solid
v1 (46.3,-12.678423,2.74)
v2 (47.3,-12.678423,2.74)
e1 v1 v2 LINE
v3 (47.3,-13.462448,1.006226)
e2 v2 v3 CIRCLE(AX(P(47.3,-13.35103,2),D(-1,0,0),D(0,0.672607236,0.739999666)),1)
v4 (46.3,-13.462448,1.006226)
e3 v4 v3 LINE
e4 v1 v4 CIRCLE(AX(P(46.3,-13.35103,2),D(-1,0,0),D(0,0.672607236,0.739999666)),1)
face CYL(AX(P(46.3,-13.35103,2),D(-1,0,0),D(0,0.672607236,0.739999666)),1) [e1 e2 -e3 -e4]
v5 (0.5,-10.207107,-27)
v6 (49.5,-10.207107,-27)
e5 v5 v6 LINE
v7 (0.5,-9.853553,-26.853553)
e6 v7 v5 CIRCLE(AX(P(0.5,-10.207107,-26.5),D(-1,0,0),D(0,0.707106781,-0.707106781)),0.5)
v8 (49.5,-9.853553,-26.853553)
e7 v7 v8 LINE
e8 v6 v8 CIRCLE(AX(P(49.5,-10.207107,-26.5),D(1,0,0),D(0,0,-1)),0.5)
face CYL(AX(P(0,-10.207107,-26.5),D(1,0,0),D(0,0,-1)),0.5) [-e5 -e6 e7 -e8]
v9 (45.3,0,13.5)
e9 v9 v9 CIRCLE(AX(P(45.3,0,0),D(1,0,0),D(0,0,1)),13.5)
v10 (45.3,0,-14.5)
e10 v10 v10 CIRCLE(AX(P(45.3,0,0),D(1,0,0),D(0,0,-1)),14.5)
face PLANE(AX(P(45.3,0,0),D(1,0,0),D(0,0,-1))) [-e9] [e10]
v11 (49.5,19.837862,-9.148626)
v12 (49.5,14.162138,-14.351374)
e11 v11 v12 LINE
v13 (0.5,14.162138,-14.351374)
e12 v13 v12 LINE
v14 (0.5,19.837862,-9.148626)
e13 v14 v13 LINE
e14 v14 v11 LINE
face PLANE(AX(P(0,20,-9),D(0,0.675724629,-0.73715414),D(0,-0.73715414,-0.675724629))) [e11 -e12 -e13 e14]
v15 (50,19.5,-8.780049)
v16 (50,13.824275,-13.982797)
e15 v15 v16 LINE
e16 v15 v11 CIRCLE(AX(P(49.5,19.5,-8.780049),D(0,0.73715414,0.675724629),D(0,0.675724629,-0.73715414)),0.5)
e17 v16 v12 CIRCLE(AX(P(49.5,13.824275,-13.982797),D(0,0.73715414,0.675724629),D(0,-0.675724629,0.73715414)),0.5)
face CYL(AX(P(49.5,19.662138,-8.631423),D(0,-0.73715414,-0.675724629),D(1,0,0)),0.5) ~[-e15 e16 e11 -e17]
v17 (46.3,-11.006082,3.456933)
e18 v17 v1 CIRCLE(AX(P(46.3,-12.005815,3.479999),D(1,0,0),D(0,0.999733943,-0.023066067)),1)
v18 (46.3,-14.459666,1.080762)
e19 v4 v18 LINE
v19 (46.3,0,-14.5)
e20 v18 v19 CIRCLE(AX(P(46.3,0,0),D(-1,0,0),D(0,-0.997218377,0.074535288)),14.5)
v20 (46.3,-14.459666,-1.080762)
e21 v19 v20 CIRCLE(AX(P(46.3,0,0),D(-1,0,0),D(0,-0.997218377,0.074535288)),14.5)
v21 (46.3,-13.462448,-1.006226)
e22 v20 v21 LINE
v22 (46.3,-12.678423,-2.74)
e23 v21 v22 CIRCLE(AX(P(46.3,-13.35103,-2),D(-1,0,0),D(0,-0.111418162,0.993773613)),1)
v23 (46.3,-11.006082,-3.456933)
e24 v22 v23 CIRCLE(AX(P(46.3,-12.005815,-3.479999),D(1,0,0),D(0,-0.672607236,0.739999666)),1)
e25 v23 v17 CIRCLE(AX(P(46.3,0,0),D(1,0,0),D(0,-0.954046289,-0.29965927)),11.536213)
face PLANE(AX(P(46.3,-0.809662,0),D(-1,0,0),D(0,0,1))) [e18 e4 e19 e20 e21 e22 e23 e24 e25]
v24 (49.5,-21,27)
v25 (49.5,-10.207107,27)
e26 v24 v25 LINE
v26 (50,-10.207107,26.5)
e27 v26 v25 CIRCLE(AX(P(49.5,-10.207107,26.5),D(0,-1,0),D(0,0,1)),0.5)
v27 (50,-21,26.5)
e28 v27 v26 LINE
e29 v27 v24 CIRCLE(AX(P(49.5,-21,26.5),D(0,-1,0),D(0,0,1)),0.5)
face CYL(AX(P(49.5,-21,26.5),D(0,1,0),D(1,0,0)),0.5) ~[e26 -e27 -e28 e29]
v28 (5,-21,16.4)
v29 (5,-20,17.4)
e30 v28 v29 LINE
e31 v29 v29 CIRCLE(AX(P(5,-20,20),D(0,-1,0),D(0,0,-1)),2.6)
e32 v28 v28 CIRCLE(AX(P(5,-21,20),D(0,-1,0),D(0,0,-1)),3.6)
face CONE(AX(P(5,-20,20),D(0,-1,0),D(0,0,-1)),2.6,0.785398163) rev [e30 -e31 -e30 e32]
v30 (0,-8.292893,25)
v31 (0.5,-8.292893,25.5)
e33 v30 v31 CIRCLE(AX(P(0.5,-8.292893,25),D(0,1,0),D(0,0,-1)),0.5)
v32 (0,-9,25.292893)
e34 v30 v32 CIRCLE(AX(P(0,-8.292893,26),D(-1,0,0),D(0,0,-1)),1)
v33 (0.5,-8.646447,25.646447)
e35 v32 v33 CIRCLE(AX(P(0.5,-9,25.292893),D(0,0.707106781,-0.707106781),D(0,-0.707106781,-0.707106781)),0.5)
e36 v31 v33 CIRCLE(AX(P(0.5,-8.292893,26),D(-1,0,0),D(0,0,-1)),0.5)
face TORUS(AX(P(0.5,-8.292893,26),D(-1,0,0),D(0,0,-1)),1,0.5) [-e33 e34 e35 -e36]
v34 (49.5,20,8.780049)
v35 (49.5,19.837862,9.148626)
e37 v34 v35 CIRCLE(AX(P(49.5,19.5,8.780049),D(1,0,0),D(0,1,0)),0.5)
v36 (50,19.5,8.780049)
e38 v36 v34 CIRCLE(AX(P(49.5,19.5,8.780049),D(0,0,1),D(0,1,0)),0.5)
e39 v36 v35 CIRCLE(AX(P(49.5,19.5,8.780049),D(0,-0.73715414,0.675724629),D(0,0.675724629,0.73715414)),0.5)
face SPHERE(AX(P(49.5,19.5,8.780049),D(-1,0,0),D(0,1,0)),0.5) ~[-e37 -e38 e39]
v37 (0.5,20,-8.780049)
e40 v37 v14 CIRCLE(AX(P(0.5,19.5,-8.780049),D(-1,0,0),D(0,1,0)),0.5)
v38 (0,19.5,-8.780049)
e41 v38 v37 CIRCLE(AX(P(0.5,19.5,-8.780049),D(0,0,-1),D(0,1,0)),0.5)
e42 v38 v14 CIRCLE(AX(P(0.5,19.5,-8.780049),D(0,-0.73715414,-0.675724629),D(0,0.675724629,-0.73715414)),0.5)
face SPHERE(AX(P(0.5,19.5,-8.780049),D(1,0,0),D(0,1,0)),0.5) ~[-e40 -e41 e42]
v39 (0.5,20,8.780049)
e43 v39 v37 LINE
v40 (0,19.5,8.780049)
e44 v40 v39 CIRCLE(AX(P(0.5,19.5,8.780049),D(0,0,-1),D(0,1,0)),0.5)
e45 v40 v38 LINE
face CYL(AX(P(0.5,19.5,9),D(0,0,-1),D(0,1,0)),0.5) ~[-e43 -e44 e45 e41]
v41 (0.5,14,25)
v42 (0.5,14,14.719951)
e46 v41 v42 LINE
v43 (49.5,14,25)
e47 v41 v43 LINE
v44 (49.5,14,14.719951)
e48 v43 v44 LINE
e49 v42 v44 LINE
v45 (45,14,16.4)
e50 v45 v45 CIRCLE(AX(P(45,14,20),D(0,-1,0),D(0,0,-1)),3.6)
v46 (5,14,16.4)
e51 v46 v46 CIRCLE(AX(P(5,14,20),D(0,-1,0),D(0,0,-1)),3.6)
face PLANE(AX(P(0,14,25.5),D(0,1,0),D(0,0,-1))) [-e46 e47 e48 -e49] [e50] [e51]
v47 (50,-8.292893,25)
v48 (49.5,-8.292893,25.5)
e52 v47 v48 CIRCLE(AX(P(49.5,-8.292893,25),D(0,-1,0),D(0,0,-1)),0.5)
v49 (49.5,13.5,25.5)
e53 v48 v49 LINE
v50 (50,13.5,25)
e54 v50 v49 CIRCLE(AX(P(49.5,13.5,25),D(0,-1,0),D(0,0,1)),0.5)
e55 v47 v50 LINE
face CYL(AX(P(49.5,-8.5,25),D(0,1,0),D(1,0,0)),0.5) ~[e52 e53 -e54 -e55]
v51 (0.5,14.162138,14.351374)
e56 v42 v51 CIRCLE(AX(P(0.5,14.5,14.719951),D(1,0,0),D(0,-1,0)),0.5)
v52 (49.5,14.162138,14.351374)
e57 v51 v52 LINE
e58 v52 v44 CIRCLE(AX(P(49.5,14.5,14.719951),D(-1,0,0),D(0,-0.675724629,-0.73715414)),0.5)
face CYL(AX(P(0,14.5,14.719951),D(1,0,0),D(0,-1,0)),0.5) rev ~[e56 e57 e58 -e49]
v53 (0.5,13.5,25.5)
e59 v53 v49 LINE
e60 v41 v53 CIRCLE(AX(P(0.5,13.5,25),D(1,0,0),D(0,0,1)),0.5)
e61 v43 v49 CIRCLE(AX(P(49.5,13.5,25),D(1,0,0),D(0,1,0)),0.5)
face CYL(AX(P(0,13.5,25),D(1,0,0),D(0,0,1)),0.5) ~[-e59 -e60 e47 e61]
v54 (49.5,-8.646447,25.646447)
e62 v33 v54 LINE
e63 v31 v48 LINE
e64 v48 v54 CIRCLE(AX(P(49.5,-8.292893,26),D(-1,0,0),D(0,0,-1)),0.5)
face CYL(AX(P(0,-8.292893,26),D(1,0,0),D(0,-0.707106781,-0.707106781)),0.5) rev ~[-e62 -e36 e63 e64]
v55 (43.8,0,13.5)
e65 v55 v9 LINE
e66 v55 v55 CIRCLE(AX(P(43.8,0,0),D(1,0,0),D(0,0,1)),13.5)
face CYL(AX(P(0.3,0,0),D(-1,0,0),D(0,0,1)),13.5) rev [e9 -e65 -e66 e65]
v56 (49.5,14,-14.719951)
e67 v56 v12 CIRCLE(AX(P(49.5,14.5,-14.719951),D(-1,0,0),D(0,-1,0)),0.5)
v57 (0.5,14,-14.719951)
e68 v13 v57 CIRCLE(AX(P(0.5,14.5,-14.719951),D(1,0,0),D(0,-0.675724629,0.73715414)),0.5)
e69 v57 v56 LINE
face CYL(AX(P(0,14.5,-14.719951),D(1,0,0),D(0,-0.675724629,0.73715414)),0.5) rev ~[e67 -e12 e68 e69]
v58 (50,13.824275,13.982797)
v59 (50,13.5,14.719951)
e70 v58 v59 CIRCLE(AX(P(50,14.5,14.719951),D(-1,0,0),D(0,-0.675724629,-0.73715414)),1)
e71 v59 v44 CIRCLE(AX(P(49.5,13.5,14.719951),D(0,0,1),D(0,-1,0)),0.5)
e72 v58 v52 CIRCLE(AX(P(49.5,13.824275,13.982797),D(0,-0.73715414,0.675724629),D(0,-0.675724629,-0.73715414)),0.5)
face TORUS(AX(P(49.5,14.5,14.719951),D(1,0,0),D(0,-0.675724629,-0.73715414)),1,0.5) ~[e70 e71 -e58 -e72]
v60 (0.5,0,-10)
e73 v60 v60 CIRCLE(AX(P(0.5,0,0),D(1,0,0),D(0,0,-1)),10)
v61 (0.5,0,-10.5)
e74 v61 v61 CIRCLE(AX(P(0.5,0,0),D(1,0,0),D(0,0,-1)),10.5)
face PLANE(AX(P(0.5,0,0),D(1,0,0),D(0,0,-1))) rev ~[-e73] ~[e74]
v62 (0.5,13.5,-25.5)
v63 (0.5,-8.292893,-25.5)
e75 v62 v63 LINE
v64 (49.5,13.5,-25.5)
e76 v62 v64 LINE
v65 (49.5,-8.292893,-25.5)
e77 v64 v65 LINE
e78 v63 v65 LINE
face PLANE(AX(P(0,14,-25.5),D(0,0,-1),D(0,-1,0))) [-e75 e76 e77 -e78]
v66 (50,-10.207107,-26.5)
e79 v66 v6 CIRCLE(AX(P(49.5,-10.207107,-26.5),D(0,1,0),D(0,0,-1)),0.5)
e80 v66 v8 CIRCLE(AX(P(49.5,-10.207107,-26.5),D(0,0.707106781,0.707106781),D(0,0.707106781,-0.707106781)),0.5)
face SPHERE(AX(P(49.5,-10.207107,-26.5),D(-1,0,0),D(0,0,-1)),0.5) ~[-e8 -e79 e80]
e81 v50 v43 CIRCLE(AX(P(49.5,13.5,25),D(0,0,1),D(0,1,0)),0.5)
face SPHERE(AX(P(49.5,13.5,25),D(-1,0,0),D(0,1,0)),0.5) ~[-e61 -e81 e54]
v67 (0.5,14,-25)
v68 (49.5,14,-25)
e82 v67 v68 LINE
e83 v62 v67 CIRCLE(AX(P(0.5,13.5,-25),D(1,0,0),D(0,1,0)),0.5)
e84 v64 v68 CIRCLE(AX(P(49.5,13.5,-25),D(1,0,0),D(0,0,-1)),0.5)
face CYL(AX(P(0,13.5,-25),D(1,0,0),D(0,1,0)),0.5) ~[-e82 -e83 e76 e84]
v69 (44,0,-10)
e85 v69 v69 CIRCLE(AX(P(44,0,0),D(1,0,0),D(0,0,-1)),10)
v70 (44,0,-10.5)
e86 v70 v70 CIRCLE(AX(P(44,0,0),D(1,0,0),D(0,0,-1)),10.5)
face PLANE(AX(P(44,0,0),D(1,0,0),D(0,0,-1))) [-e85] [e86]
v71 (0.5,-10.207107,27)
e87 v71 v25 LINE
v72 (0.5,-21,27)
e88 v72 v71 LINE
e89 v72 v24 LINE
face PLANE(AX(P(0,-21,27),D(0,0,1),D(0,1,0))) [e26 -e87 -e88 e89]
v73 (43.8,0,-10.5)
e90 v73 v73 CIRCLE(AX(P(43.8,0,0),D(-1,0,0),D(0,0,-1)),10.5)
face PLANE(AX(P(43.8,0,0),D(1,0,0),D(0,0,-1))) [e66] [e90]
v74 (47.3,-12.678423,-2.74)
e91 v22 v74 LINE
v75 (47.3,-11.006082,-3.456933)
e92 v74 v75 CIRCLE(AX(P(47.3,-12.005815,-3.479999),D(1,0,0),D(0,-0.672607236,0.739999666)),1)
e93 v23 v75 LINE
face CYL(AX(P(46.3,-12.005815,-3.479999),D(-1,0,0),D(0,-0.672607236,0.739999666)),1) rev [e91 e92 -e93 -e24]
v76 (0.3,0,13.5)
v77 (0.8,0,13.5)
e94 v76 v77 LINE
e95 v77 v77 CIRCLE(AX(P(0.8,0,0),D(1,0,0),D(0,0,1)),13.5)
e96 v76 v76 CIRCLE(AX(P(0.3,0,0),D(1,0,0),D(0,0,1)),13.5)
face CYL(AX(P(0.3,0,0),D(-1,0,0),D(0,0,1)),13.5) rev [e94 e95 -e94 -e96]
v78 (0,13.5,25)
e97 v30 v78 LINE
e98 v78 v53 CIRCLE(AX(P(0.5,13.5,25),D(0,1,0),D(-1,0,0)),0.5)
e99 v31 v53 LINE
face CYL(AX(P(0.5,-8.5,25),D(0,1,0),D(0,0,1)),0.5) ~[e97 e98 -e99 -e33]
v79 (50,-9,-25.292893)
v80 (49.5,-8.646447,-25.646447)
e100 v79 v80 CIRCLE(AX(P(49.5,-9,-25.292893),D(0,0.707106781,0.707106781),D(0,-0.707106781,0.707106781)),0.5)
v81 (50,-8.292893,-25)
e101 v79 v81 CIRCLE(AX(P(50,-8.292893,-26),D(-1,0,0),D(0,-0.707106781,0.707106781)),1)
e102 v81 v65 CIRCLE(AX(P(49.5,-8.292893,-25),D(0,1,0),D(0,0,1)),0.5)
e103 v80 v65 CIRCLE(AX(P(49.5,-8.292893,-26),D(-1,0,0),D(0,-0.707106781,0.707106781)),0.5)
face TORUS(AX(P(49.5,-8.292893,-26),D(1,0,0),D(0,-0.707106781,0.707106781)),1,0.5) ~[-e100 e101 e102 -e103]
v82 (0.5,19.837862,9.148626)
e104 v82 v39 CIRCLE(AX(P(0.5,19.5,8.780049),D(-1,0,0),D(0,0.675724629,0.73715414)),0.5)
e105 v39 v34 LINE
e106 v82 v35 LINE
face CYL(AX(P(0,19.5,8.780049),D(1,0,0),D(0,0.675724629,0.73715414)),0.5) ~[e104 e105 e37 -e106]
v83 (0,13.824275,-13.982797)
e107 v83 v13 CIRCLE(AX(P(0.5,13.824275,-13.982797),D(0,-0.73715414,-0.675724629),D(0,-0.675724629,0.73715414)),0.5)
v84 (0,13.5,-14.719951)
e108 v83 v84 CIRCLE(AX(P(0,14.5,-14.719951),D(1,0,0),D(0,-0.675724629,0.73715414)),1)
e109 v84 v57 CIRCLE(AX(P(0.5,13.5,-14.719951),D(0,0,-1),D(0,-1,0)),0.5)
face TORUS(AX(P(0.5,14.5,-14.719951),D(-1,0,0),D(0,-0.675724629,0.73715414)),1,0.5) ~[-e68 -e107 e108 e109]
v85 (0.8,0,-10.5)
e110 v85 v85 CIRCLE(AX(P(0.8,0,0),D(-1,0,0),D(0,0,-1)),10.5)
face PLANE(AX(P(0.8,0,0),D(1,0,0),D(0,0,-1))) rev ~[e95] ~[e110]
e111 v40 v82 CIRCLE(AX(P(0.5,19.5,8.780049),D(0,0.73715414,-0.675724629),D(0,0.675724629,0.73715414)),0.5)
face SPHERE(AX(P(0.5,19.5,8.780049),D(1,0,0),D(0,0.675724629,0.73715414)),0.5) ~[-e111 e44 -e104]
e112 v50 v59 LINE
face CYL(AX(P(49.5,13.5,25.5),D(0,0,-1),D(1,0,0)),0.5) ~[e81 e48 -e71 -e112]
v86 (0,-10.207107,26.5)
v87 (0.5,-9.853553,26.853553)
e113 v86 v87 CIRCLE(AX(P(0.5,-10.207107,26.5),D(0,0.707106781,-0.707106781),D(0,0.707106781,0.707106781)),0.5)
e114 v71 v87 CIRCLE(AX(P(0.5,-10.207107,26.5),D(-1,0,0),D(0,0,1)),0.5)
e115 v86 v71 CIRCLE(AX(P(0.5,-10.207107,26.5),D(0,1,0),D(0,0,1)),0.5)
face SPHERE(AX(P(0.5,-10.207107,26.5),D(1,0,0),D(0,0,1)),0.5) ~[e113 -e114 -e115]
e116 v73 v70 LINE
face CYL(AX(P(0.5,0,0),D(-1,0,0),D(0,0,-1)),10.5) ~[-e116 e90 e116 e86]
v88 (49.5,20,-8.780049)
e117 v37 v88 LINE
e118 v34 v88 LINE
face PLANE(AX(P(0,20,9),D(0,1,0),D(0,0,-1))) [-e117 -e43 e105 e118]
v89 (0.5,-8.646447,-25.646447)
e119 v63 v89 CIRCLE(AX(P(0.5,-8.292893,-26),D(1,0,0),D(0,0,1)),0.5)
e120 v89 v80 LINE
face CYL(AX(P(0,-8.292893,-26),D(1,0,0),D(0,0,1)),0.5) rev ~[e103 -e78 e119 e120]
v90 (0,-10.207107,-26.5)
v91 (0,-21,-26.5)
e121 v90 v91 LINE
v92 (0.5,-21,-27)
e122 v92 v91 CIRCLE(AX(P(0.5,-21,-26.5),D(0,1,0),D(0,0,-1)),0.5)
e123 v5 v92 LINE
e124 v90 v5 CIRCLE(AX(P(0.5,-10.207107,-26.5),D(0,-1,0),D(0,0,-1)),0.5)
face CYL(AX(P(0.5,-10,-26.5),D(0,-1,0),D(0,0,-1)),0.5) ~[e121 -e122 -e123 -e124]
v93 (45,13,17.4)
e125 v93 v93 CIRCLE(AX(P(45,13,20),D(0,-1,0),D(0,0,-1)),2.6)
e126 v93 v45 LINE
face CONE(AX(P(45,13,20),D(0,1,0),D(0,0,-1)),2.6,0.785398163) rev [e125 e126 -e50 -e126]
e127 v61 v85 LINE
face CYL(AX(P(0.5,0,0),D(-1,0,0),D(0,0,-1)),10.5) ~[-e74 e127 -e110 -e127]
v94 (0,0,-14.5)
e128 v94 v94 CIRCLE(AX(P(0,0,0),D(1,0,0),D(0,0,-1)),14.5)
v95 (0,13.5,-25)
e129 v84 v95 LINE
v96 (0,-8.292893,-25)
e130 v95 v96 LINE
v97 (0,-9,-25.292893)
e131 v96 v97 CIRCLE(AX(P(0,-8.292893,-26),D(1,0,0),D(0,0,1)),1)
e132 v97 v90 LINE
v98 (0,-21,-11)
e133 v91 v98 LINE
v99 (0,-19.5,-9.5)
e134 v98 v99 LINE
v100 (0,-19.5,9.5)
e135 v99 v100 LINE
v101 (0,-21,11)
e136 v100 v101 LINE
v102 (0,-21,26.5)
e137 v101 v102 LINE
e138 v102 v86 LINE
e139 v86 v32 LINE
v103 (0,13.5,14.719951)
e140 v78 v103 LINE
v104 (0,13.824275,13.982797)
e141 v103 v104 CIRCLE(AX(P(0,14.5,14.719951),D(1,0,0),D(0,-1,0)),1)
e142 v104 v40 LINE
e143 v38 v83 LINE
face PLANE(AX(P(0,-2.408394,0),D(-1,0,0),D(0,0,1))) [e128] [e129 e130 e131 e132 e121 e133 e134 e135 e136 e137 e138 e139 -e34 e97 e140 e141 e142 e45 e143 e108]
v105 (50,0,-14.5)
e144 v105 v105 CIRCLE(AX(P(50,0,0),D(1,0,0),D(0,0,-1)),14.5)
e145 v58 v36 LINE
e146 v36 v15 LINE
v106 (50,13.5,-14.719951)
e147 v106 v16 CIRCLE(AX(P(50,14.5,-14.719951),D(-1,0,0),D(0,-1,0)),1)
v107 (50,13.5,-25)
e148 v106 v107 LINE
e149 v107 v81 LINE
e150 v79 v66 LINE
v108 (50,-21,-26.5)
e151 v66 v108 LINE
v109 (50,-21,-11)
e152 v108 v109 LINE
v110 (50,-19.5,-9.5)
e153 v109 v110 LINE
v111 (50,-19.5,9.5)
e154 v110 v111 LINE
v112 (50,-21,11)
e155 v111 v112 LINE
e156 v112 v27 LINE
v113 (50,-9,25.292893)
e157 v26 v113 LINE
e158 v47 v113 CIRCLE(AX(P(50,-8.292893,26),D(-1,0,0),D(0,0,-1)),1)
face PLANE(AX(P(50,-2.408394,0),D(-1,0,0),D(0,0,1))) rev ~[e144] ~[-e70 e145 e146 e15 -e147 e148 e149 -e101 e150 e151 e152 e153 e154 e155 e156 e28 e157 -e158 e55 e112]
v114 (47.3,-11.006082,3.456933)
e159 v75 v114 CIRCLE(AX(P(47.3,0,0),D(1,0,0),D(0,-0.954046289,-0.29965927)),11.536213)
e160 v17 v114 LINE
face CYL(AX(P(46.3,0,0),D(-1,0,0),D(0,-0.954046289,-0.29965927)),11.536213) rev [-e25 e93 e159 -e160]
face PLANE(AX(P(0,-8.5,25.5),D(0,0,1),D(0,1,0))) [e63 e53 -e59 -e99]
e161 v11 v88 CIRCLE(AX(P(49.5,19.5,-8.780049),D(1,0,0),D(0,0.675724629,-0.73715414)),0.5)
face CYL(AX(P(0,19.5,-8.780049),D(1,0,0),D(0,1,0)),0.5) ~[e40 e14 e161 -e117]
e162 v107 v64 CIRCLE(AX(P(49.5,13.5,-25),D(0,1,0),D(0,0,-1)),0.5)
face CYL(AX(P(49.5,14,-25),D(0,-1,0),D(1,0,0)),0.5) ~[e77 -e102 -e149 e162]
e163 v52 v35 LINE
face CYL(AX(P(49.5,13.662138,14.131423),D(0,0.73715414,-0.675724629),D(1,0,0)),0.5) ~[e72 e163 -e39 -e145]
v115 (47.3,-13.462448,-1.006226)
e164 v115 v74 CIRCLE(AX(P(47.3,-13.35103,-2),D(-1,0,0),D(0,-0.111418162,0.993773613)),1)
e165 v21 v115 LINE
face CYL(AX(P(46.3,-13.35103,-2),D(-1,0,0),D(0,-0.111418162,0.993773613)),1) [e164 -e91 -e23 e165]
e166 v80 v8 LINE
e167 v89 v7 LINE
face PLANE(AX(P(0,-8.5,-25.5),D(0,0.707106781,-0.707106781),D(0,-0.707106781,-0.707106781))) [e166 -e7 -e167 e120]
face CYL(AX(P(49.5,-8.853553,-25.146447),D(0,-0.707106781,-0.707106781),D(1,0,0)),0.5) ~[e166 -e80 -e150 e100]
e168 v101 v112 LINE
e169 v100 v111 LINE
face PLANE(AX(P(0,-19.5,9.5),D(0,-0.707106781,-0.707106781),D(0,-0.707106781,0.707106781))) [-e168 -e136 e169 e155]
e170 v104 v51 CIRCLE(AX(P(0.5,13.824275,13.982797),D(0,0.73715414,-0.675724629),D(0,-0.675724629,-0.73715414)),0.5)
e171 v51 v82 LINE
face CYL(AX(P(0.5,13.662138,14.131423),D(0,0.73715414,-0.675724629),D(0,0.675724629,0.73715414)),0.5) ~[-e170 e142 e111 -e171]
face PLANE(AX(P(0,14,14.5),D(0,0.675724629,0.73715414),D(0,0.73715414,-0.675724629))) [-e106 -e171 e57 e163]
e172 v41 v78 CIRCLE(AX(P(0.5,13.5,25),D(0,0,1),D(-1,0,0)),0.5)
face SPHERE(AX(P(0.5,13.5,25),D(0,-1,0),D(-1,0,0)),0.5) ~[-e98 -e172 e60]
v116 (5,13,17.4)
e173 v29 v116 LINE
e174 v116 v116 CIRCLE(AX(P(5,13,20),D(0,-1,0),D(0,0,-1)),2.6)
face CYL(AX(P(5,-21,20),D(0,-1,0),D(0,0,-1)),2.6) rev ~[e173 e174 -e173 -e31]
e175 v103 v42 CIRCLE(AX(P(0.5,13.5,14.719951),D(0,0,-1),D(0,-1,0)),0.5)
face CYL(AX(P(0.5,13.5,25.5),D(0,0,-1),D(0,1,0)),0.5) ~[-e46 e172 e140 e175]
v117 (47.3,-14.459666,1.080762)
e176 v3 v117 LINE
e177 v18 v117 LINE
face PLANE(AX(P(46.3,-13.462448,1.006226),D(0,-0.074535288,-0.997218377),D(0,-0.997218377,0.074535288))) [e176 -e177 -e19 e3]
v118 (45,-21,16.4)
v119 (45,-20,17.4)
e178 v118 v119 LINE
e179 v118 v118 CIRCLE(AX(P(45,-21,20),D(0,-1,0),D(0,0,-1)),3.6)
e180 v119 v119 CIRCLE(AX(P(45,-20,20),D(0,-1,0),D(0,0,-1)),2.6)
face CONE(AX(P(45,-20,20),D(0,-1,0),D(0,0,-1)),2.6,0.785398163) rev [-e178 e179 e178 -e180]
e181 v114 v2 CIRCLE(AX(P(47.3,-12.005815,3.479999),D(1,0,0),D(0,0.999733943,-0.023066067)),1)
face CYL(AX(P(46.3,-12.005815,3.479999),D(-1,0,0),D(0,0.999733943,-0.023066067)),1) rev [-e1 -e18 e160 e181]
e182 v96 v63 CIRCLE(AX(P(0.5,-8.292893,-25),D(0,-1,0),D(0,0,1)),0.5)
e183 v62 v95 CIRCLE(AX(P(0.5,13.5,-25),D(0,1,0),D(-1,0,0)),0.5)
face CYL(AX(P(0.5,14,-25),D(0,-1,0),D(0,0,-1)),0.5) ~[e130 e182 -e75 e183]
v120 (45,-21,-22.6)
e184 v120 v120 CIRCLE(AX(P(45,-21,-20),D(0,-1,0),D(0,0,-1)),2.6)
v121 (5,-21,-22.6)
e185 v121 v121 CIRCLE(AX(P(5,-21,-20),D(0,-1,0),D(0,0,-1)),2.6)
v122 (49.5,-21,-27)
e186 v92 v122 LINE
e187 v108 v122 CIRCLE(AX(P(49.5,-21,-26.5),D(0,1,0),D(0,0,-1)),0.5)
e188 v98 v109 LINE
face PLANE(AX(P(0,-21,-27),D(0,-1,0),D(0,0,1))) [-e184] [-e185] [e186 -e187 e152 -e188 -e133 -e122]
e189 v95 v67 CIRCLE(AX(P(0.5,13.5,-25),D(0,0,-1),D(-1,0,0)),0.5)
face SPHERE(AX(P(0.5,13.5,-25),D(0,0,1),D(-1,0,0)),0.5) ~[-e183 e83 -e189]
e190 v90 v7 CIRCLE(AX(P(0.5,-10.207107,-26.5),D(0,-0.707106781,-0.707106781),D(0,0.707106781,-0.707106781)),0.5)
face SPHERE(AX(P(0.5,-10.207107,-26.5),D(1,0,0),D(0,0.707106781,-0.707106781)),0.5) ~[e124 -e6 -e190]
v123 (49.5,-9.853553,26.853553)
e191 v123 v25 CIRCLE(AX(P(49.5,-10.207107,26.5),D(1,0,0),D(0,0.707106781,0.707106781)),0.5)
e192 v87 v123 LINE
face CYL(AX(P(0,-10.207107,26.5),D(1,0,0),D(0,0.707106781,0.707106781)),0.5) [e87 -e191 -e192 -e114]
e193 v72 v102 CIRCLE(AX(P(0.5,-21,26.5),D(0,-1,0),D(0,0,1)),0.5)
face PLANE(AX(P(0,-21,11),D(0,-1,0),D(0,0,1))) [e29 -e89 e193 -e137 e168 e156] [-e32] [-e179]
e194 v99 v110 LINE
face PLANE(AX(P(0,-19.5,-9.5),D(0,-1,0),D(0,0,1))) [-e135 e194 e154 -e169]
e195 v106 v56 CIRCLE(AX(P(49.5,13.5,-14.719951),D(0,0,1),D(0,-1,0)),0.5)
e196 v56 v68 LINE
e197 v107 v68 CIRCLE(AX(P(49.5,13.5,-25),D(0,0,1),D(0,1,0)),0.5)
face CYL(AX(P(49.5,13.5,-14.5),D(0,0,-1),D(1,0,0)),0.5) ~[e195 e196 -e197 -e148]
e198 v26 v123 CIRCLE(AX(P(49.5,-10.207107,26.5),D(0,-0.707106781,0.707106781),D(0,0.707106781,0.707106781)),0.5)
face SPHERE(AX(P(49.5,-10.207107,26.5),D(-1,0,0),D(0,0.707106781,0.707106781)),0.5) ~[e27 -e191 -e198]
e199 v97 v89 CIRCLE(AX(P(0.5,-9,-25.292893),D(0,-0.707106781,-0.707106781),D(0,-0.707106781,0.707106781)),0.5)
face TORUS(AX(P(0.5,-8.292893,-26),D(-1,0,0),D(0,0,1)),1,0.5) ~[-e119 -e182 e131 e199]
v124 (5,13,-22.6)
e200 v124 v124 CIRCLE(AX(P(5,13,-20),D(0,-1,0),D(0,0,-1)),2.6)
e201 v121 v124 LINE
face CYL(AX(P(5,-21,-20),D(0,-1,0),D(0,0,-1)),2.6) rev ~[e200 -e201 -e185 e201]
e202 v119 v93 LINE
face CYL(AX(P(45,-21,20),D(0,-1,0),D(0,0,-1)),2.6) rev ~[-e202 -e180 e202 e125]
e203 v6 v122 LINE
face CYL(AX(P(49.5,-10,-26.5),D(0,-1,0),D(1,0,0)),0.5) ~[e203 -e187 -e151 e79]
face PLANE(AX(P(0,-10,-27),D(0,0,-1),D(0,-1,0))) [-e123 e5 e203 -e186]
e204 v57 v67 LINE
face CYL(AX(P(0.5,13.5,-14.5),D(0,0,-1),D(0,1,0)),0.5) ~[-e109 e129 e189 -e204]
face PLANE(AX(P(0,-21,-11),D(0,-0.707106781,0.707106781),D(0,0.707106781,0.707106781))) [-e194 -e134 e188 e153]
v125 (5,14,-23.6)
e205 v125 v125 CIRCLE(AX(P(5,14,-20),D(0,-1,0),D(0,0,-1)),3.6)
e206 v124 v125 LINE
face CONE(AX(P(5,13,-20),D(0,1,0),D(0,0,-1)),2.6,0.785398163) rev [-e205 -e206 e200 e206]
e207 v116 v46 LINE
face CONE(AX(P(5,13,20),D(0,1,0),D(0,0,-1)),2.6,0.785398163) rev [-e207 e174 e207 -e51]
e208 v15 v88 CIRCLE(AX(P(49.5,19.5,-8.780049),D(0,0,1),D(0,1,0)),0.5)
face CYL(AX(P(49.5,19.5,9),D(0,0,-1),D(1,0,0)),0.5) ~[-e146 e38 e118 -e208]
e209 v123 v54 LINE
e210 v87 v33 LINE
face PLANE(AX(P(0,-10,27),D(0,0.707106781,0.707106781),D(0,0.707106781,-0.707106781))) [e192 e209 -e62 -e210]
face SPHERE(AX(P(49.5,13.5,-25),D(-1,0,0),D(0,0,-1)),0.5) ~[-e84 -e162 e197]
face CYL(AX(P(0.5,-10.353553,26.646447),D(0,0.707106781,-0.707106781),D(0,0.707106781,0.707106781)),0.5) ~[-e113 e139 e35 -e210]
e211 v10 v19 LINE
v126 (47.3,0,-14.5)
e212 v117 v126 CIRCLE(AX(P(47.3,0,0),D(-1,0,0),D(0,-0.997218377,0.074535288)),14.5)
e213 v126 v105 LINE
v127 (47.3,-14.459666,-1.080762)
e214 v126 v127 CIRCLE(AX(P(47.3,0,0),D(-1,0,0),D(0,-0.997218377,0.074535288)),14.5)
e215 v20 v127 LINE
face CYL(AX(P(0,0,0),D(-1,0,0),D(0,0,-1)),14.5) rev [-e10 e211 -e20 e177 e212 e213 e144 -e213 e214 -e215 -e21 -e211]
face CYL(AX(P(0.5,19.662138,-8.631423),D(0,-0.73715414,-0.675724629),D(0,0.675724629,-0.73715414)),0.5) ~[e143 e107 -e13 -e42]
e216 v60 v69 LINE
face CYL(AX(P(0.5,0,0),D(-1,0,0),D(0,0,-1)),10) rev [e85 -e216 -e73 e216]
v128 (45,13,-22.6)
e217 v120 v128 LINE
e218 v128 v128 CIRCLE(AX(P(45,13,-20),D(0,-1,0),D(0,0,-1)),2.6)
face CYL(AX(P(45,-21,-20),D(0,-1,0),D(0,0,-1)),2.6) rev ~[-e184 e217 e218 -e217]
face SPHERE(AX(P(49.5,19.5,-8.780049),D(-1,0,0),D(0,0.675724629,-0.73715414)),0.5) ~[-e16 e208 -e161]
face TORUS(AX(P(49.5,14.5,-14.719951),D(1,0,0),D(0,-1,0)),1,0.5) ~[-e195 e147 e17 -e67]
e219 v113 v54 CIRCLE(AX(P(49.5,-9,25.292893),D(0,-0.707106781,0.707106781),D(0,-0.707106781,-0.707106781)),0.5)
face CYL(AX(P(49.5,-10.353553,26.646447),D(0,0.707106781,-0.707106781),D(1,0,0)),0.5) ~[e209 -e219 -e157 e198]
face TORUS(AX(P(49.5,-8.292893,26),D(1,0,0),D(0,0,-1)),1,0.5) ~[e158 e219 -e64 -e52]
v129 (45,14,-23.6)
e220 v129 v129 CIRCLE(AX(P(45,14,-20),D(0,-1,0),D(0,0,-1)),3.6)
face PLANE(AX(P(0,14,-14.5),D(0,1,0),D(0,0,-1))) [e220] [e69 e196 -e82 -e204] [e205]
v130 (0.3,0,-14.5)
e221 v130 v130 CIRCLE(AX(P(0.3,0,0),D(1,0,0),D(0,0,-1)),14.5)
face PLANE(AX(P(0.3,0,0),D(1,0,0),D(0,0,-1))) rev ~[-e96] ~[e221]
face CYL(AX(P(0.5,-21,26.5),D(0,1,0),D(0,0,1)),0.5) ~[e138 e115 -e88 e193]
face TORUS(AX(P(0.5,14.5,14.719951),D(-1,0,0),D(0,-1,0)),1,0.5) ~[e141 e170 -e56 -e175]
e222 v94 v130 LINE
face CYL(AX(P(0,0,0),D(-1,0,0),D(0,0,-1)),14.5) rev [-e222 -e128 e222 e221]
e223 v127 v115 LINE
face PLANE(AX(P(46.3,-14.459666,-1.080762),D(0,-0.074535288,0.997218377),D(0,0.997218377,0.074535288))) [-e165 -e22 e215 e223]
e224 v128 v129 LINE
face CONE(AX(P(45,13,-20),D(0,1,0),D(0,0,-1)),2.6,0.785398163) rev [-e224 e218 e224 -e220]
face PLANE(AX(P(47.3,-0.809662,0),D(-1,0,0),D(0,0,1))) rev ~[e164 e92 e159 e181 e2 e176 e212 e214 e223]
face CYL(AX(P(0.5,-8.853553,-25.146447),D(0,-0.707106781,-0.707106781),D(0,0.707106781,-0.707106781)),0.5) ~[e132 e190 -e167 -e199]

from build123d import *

# Parameters (mm, degrees)
SKETCH1_R           = 14.5
BOSS_EXTRUDE1_DEPTH = 50
EXTRUDE_THIN1_START = 0.5
SKETCH1_4_R         = 10.5
SKETCH1_4_R_2       = 10
EXTRUDE_THIN1_DEPTH = 43.5
BOSS_EXTRUDE2_START = 0.8
SKETCH1_5_R         = 13.5
SKETCH1_5_R_2       = 10
BOSS_EXTRUDE2_DEPTH = 43
BOSS_EXTRUDE3_START = 0.3
SKETCH1_6_R         = 14.5
SKETCH1_6_R_2       = 13.5
BOSS_EXTRUDE3_DEPTH = 45
BOSS_EXTRUDE4_START = 1
BOSS_EXTRUDE4_DEPTH = 1
FILLET1_R           = 0.5
SKETCH4_R           = 2.6
CUT_EXTRUDE3_DEPTH  = 71.071392165
CHAMFER1_SIZE       = 1


with BuildPart() as part:
    # Sketch1 → Boss-Extrude1 (new body)
    with BuildSketch(Plane(origin=(0, 0, 0), x_dir=(0, 0, -1), z_dir=(1, 0, 0))):
        Polygon((-27, -21), (-11, -21), (-9.5, -19.5), (9.5, -19.5), (11, -21), (27, -21), (27, -10), (25.5, -8.5), (25.5, 14), (14.5, 14), (9, 20), (-9, 20), (-14.5, 14), (-25.5, 14), (-25.5, -8.5), (-27, -10), align=None)
        Circle(SKETCH1_R, mode=Mode.SUBTRACT)
    extrude(amount=BOSS_EXTRUDE1_DEPTH)



with BuildPart() as body_2:
    # Sketch1<4> → Extrude-Thin1 (new body)
    with BuildSketch(Plane(origin=(0, 0, 0), x_dir=(0, 0, -1), z_dir=(1, 0, 0)).offset(EXTRUDE_THIN1_START)):
        Circle(SKETCH1_4_R)
        Circle(SKETCH1_4_R_2, mode=Mode.SUBTRACT)
    extrude(amount=EXTRUDE_THIN1_DEPTH)

    # Sketch1<5> → Boss-Extrude2 (add)
    with BuildSketch(Plane(origin=(0, 0, 0), x_dir=(0, 0, -1), z_dir=(1, 0, 0)).offset(BOSS_EXTRUDE2_START)):
        Circle(SKETCH1_5_R)
        Circle(SKETCH1_5_R_2, mode=Mode.SUBTRACT)
    extrude(amount=BOSS_EXTRUDE2_DEPTH)


with BuildPart() as part_1:
    add(part.part)

    add(body_2.part)  # Boss-Extrude3 merges body 2
    # Sketch1<6> → Boss-Extrude3 (add)
    with BuildSketch(Plane(origin=(0, 0, 0), x_dir=(0, 0, -1), z_dir=(1, 0, 0)).offset(BOSS_EXTRUDE3_START)):
        Circle(SKETCH1_6_R)
        Circle(SKETCH1_6_R_2, mode=Mode.SUBTRACT)
    extrude(amount=BOSS_EXTRUDE3_DEPTH)

    # Sketch3 → Boss-Extrude4 (add)
    with BuildSketch(Plane(origin=(45.3, 0, 0), x_dir=(0, 0, -1), z_dir=(1, 0, 0)).offset(BOSS_EXTRUDE4_START)):
        with BuildLine():
            Line((-1.006226387, -13.462448086), (-1.080761675, -14.459666462))
            ThreePointArc((-1.080761675, -14.459666462), (0, 14.5), (1.080761675, -14.459666462))
            Line((1.080761675, -14.459666462), (1.006226387, -13.462448086))
            ThreePointArc((1.006226387, -13.462448086), (1.587963278, -12.439862683), (2.739999666, -12.678422687))
            ThreePointArc((2.739999666, -12.678422687), (4.399101385, -12.399835015), (3.456933265, -11.006081508))
            ThreePointArc((3.456933265, -11.006081508), (0, 11.53621332), (-3.456933265, -11.006081508))
            ThreePointArc((-3.456933265, -11.006081508), (-4.399101385, -12.399835015), (-2.739999666, -12.678422687))
            ThreePointArc((-2.739999666, -12.678422687), (-1.587963278, -12.439862683), (-1.006226387, -13.462448086))
        make_face()
    extrude(amount=BOSS_EXTRUDE4_DEPTH)

    # Fillet1
    fillet1_edges = [part_1.edges().sort_by_distance(p)[0] for p in [
        (25, -8.5, -25.5),
        (25, -8.5, 25.5),
        (25, -10, 27),
        (25, -10, -27),
        (25, 14, -14.5),
        (25, 14, 14.5),
        (25, 20, 9),
        (25, 20, -9),
        (25, 14, -25.5),
        (25, 14, 25.5),
        (50, 17, -11.75),
        (50, 17, 11.75),
        (50, 2.75, 25.5),
        (0, -9.25, 26.25),
        (0, 17, 11.75),
        (50, -9.25, -26.25),
        (50, -15.5, -27),
        (50, 2.75, -25.5),
        (50, 20, 0),
        (50, 14, -20),
        (50, 14, 20),
        (50, -9.25, 26.25),
        (50, -15.5, 27),
        (0, -15.5, -27),
        (0, -9.25, -26.25),
        (0, 2.75, -25.5),
        (0, 17, -11.75),
        (0, 14, -20),
        (0, 20, 0),
        (0, -15.5, 27),
        (0, 2.75, 25.5),
        (0, 14, 20),
    ]]
    fillet(fillet1_edges, radius=FILLET1_R)

    # Sketch4 → Cut-Extrude3 (cut, through all)
    with BuildSketch(Plane.XZ.offset(21)):
        with Locations((5, 20)):
            Circle(SKETCH4_R)
        with Locations((45, 20)):
            Circle(SKETCH4_R)
        with Locations((45, -20)):
            Circle(SKETCH4_R)
        with Locations((5, -20)):
            Circle(SKETCH4_R)
    extrude(amount=-CUT_EXTRUDE3_DEPTH, mode=Mode.SUBTRACT)

    # Chamfer1
    chamfer1_edges = [part_1.edges().sort_by_distance(p)[0] for p in [
        (42.4, 14, -20),
        (2.4, 14, -20),
        (2.4, 14, 20),
        (42.4, 14, 20),
        (42.4, -21, 20),
        (2.4, -21, 20),
    ]]
    chamfer(chamfer1_edges, length=CHAMFER1_SIZE)


solid = part_1.part
